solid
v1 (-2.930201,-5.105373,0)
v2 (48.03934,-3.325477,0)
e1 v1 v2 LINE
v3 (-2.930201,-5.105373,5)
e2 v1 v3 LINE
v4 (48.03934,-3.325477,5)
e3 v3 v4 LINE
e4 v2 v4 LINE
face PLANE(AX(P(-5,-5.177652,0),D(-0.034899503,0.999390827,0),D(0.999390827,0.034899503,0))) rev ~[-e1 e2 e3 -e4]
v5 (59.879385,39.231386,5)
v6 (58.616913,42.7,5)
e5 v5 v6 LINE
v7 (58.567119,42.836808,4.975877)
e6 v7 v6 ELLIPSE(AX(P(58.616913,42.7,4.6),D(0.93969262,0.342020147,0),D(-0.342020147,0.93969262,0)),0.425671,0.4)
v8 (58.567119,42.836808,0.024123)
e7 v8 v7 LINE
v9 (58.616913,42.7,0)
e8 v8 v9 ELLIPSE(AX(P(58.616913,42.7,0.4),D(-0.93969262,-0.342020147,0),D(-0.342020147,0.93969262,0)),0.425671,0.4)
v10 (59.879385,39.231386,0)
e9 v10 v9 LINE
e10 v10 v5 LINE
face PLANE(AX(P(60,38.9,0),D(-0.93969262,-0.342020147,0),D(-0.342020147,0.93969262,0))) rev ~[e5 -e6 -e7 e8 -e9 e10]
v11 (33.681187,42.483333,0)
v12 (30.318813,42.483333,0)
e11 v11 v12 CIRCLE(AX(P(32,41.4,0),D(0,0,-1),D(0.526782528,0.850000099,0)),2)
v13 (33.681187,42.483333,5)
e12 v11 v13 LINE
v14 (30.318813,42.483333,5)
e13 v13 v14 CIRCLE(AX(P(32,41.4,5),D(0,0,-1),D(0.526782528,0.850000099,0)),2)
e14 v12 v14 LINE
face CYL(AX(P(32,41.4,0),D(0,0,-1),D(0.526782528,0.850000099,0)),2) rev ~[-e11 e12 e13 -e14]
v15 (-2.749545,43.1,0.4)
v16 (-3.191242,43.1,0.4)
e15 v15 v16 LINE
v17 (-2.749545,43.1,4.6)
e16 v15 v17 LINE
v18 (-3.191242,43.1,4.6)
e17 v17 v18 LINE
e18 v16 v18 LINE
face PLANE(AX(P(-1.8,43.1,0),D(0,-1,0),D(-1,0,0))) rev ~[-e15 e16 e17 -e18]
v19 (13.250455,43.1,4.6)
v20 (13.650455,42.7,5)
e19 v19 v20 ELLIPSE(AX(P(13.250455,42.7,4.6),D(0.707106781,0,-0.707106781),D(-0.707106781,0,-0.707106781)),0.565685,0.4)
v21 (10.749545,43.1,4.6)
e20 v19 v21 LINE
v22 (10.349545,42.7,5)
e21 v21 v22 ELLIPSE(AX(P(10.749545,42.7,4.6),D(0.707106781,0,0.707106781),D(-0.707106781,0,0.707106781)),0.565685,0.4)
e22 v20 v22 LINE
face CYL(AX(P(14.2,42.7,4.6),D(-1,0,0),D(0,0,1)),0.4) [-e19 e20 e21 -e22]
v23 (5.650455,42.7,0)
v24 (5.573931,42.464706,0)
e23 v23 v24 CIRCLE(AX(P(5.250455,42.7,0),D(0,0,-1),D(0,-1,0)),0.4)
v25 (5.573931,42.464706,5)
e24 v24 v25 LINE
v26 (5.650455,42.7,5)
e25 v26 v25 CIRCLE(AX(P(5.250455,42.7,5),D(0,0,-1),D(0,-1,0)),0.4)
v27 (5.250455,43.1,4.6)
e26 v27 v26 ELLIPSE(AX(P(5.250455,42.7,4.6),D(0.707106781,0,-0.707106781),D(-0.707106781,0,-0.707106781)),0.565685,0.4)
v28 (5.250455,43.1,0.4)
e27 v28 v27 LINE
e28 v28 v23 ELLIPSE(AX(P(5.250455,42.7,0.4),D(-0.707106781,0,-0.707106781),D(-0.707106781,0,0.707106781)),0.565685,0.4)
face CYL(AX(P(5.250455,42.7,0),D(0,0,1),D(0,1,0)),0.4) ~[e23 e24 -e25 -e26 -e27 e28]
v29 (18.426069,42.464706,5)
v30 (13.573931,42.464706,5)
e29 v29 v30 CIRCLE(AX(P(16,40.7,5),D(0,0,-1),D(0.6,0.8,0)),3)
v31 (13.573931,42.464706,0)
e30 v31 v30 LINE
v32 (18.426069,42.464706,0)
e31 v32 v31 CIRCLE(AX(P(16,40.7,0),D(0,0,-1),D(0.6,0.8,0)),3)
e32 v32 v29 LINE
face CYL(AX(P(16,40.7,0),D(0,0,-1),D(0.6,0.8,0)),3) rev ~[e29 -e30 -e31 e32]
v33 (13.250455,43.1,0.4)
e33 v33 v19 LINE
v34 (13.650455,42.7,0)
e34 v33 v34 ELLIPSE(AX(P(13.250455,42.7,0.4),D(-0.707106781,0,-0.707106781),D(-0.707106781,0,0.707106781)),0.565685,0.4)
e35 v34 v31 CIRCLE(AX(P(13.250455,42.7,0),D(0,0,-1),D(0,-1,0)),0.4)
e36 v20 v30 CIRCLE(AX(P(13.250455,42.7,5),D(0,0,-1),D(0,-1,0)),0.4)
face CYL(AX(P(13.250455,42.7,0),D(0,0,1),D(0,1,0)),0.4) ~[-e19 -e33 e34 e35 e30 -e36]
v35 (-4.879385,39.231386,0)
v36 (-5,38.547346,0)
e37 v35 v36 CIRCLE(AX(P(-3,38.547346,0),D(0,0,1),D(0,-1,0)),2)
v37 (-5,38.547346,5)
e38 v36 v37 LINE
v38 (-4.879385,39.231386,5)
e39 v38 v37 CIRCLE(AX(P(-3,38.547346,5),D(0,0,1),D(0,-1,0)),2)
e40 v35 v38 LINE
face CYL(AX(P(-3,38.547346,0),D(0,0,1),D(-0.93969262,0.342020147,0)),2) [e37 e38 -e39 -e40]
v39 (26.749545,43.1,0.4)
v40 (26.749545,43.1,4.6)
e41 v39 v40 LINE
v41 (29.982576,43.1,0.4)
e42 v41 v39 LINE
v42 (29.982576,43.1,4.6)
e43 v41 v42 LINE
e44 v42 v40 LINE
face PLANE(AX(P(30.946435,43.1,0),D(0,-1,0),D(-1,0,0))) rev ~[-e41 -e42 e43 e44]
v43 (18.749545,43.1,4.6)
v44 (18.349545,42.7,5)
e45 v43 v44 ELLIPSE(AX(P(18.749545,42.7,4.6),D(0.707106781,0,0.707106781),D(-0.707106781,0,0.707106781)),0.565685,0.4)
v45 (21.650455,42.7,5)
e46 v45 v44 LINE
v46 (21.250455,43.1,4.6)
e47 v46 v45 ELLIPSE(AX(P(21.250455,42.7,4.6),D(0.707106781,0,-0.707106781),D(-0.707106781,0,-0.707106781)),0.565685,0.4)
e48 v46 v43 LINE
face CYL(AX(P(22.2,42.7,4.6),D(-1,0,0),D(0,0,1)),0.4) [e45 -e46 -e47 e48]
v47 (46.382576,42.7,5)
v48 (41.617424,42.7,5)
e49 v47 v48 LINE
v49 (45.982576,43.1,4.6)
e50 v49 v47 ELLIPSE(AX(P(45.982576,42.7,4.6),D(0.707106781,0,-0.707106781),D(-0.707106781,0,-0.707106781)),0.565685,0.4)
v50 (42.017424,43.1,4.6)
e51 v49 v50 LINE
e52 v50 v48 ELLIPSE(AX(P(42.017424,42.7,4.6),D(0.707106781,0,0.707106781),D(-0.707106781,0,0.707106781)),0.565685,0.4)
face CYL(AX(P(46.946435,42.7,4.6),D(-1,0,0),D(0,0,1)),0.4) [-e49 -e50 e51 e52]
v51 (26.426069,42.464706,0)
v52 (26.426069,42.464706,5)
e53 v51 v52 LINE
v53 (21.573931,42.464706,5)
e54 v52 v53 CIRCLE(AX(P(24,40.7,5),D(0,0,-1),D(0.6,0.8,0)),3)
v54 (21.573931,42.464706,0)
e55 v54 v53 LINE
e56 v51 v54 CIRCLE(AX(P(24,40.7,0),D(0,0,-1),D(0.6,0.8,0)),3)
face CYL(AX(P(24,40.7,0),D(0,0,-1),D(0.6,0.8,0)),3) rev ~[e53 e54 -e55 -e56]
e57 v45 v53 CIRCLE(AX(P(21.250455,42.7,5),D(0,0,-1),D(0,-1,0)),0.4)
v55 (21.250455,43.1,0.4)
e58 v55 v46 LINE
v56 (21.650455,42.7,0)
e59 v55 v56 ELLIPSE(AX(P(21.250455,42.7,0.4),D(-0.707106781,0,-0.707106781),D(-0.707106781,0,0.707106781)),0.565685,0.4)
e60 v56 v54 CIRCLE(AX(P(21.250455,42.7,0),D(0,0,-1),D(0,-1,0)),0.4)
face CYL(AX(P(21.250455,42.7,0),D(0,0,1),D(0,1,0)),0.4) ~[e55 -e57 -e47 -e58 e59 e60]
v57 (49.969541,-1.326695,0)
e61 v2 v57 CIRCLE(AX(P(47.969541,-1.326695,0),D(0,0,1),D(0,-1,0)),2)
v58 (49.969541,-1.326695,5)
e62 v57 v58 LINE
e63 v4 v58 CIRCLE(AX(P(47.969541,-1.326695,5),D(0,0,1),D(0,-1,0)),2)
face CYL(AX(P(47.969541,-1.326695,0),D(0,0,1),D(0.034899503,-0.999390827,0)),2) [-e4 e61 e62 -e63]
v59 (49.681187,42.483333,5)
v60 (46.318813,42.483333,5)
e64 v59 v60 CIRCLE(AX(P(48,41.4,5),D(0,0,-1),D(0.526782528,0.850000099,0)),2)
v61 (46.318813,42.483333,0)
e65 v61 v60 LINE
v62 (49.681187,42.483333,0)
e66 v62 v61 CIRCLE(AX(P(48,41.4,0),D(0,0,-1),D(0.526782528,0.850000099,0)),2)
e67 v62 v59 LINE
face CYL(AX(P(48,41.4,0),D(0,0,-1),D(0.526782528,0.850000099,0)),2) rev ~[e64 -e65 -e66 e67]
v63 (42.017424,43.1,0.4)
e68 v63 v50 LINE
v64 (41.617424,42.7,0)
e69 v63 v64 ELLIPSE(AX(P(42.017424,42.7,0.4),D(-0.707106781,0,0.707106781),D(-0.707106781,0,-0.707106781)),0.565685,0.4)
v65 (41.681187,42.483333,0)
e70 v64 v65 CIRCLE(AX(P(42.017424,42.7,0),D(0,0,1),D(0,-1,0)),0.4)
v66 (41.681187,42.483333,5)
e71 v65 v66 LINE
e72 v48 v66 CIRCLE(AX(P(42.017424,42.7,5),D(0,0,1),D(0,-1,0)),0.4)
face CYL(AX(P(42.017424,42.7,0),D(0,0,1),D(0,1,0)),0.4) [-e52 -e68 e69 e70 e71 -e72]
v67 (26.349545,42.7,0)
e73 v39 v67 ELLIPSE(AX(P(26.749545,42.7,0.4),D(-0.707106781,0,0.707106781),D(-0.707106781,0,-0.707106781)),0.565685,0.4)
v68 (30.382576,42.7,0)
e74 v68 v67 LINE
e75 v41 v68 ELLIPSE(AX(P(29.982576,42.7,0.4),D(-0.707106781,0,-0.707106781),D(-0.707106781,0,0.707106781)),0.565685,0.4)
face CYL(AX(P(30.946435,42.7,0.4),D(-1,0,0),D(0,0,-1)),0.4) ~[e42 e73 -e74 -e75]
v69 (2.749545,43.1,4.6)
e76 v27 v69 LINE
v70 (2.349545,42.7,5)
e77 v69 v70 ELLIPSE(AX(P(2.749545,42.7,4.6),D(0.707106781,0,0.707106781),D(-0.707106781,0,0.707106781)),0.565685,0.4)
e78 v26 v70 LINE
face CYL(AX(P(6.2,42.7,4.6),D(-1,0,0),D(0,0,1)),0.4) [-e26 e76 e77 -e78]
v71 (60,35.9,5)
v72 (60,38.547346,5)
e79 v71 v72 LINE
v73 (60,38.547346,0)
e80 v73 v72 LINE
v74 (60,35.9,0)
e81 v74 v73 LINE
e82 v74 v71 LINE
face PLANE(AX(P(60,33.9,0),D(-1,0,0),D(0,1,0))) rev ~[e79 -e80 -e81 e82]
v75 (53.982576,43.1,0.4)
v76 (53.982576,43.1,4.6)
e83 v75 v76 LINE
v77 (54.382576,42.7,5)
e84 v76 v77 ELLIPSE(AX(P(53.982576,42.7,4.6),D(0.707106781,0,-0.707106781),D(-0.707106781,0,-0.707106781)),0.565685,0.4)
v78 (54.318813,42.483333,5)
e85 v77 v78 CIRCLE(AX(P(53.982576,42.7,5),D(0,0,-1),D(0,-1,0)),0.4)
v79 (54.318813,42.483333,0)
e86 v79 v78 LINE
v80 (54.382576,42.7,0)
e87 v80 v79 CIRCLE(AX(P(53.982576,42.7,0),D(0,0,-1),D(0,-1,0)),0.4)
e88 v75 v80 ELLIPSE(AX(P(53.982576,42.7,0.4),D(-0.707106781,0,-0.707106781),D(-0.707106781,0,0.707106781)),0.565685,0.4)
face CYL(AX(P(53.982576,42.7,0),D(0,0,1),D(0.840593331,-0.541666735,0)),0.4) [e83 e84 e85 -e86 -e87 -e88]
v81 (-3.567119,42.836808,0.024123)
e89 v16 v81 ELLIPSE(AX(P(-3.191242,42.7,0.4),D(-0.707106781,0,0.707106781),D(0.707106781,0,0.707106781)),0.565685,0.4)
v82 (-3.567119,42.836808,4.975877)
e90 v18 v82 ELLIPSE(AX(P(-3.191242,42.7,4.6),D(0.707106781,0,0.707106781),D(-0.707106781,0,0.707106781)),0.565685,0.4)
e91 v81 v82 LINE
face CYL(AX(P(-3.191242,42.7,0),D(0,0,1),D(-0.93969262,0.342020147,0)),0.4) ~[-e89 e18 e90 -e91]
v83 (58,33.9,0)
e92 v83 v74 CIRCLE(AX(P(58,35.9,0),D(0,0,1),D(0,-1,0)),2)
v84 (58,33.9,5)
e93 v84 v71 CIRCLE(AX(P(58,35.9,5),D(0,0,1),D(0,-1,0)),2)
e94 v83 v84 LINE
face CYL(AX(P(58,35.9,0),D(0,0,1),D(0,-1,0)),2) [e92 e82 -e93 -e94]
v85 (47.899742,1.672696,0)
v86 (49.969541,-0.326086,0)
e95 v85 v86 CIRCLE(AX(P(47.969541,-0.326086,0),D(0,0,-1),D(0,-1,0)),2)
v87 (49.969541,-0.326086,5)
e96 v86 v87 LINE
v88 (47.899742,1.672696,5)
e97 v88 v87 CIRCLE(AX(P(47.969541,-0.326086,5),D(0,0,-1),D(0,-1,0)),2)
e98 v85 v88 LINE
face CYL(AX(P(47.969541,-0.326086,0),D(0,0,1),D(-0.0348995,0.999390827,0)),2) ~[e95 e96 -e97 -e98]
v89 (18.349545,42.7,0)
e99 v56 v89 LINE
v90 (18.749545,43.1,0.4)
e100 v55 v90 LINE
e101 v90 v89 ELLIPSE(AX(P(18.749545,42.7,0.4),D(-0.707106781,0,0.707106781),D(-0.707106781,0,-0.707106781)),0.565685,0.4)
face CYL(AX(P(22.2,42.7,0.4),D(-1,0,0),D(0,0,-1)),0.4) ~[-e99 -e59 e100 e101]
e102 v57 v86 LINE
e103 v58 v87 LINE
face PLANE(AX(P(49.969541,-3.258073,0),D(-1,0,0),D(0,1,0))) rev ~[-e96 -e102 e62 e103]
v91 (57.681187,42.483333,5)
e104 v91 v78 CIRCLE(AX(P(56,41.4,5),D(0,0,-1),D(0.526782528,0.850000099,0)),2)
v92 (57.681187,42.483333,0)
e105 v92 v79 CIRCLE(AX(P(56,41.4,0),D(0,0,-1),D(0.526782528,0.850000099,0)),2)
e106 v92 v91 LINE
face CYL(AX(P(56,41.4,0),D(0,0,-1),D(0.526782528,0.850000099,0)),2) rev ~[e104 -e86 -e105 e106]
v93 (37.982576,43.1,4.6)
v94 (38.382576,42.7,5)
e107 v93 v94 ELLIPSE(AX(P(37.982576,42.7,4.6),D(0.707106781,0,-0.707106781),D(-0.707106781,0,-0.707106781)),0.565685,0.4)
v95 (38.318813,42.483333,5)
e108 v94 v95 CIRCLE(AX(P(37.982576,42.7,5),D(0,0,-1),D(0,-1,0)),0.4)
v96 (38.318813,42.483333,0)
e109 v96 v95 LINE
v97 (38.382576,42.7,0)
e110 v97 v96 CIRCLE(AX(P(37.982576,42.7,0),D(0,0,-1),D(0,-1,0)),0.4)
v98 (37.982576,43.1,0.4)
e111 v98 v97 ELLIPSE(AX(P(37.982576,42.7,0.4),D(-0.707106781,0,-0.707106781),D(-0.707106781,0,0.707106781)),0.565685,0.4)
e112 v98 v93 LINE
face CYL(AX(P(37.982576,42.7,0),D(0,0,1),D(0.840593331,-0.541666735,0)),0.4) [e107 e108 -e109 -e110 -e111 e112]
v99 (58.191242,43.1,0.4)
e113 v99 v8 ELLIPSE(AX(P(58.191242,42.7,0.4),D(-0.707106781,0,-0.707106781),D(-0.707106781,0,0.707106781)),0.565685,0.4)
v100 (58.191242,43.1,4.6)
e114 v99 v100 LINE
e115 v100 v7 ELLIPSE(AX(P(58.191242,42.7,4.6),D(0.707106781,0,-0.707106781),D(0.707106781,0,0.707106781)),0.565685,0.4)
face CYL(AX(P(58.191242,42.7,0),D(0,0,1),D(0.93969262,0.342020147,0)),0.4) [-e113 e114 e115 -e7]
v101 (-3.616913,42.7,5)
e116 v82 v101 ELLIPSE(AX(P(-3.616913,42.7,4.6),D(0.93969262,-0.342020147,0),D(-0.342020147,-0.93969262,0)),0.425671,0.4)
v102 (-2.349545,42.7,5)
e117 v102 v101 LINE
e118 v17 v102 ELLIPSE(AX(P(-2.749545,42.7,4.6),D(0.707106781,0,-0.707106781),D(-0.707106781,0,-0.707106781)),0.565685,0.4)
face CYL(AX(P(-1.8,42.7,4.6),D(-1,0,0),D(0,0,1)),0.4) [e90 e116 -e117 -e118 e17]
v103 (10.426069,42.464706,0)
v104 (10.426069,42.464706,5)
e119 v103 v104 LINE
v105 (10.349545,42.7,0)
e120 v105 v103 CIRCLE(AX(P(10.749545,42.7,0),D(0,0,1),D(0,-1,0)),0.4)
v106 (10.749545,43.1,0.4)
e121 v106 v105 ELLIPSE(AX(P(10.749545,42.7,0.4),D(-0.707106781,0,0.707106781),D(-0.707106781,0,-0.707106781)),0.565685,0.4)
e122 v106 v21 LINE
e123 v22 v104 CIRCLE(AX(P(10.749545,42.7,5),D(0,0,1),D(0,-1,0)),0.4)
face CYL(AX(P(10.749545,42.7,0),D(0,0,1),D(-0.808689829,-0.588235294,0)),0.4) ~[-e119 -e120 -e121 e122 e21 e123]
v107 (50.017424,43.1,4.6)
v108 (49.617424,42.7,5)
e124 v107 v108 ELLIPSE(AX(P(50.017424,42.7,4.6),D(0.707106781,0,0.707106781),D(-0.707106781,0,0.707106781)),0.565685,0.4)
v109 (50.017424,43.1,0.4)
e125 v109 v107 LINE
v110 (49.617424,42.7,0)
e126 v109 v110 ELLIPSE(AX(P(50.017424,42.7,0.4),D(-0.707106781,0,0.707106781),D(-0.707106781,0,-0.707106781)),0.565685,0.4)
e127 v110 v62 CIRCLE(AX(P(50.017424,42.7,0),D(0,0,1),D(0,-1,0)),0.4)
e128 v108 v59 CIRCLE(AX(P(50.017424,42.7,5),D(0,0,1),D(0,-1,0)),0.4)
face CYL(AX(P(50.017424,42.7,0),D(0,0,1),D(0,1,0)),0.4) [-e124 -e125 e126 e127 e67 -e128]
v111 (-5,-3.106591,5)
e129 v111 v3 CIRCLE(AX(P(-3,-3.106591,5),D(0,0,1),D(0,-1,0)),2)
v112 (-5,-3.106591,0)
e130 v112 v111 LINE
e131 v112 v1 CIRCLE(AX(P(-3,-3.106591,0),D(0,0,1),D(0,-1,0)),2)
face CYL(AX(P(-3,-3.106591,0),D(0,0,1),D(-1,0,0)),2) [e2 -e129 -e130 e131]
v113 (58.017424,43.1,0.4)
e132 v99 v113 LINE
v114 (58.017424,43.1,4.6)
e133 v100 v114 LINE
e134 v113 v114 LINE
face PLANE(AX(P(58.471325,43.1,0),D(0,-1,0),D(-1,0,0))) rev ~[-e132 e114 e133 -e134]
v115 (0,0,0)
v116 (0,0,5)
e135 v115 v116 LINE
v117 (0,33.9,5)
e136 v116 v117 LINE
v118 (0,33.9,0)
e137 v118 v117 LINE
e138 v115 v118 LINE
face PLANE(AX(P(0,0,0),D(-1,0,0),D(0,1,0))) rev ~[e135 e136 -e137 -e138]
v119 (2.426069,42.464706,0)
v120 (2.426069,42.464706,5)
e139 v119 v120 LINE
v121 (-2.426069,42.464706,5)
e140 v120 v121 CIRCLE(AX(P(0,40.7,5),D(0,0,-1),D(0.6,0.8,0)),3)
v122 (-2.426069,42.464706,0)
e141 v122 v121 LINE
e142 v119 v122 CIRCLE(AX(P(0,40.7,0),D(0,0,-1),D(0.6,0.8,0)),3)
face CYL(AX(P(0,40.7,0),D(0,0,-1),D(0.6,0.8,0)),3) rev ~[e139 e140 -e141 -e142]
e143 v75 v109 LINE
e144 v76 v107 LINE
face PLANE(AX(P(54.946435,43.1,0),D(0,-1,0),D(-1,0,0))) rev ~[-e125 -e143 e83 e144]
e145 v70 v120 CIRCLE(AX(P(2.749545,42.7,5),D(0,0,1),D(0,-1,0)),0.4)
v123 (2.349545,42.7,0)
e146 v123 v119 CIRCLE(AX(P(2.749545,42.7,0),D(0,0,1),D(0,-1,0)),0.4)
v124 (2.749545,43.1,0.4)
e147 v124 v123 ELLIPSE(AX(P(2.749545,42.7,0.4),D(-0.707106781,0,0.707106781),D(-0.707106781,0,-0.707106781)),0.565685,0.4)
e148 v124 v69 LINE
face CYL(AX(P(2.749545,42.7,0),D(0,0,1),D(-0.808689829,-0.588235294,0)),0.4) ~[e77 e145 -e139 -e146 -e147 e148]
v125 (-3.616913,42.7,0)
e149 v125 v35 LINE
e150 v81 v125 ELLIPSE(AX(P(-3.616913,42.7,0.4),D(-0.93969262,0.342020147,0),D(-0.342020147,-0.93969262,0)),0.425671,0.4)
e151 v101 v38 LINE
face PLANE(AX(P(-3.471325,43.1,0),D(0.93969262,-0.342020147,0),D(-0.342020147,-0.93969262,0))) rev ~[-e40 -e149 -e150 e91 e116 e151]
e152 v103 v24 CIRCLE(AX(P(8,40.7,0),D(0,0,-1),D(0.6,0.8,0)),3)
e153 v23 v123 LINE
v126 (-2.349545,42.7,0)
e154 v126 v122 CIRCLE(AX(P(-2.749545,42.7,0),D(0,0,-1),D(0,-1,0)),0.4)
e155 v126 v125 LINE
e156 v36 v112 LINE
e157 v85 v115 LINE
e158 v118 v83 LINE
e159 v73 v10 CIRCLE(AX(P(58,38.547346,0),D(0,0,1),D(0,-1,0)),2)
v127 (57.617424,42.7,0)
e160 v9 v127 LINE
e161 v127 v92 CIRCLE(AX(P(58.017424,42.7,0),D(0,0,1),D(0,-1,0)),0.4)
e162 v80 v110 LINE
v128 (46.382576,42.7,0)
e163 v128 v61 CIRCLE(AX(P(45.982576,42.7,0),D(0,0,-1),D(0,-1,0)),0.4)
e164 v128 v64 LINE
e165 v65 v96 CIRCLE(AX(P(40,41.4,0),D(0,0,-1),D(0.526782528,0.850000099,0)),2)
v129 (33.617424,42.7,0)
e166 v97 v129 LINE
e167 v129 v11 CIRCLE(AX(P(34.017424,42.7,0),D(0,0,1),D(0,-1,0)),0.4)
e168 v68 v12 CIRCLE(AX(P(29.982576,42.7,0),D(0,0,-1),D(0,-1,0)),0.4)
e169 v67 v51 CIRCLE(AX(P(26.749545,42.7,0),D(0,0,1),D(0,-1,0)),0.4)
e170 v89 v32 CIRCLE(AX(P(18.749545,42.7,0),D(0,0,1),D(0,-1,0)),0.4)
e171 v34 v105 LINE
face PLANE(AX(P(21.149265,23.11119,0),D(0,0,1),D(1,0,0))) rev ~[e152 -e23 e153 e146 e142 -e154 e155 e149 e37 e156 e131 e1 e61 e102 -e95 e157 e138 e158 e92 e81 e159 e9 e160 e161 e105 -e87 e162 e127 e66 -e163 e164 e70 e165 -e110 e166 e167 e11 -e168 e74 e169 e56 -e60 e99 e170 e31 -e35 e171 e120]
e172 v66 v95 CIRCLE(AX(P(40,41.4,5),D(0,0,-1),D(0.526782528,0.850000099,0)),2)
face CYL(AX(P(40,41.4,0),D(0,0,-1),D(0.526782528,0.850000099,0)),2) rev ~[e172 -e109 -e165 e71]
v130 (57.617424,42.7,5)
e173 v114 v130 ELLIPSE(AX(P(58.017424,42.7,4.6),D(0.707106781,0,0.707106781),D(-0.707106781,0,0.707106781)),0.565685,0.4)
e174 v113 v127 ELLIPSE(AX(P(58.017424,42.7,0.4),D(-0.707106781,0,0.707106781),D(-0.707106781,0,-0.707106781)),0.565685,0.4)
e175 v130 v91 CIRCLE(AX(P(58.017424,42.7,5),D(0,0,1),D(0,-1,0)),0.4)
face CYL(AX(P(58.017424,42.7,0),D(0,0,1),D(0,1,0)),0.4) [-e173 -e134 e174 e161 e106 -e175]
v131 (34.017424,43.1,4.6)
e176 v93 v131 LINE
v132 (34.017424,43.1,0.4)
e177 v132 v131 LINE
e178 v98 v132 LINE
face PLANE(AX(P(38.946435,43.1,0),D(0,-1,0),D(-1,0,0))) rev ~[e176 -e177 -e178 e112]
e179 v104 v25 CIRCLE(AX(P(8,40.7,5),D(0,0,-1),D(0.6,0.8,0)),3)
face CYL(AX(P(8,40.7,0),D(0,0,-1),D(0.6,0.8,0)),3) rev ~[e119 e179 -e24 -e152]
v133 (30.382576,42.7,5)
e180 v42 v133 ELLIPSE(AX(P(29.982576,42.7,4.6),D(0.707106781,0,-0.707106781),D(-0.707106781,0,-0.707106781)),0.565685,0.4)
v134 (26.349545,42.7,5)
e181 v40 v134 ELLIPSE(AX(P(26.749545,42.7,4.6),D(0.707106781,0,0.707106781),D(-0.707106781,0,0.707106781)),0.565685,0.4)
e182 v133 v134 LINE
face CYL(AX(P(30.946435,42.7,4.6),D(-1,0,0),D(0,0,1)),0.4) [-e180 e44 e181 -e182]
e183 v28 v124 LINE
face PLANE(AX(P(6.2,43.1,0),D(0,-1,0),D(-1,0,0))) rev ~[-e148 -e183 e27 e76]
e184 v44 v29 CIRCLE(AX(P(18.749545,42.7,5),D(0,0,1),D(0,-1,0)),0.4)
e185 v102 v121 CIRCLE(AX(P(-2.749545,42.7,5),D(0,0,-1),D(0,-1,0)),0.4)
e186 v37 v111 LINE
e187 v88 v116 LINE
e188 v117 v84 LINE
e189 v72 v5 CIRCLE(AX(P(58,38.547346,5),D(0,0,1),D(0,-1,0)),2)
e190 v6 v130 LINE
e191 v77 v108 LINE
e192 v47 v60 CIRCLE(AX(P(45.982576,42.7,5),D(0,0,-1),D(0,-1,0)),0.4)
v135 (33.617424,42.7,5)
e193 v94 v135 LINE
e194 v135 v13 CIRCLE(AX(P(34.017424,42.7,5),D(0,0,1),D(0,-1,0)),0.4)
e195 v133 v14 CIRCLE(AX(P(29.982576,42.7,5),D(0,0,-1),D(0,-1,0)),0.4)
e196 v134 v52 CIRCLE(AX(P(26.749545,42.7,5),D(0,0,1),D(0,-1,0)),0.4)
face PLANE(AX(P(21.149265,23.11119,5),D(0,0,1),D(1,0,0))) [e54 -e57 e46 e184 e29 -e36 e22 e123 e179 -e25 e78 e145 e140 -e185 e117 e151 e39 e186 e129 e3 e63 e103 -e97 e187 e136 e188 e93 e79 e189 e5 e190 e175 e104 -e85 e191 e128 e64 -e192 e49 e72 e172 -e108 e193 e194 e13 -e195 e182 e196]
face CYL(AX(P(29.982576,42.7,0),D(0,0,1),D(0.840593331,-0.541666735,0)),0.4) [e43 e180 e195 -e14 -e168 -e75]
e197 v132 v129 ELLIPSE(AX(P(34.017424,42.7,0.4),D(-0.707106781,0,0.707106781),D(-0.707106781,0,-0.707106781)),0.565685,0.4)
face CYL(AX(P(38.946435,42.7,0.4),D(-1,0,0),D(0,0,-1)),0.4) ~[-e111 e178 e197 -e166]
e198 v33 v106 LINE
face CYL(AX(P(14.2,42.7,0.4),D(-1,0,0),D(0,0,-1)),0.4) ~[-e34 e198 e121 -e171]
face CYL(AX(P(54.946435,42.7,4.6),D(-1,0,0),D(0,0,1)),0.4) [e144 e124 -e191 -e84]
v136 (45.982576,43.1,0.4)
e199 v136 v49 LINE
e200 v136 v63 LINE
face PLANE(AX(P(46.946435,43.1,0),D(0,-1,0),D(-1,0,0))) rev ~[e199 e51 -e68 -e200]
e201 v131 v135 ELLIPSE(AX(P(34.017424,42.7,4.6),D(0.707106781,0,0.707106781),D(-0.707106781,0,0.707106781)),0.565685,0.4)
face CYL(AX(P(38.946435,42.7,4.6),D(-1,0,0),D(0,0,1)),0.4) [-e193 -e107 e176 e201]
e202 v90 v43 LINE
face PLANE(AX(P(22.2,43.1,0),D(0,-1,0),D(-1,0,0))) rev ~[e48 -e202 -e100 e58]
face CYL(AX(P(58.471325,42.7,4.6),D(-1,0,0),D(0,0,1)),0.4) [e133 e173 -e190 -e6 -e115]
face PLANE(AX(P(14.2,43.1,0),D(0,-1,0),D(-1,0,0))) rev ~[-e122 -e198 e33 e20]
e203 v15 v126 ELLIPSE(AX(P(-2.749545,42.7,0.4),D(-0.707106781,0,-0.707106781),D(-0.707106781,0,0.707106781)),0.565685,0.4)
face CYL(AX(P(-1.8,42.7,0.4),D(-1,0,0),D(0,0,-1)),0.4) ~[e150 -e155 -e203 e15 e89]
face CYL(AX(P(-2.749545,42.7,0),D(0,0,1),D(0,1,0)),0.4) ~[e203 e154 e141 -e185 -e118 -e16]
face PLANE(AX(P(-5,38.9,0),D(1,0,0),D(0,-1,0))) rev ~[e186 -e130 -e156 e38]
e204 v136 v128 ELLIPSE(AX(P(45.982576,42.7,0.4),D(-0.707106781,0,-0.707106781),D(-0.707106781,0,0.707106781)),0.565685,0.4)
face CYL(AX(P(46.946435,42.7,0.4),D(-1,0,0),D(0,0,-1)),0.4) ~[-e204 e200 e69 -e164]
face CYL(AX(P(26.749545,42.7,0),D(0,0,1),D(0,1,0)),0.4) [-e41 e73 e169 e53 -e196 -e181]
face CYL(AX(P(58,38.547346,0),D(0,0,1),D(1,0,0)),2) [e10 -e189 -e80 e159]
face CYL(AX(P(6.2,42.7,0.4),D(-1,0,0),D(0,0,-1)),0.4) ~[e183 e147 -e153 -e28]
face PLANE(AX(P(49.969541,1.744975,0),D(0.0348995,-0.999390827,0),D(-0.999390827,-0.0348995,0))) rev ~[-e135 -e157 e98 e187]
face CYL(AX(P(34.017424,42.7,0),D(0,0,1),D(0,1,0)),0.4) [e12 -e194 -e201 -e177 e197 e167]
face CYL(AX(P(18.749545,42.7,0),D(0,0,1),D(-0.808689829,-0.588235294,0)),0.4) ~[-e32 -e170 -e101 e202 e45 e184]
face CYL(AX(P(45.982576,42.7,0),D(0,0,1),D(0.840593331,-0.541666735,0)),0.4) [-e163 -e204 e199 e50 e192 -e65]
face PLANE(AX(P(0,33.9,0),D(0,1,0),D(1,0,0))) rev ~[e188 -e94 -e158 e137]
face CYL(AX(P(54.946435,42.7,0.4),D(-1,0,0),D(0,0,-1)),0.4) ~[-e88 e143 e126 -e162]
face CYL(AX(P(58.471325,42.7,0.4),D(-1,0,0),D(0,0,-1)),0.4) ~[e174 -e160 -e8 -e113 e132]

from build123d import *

# Parameters (mm, degrees)
F1_DEPTH = 5
F2_R     = 2
F3_R     = 0.4


with BuildPart() as f1:
    # F0 (on Top) → F1 (new body)
    with BuildSketch(Plane.XY):
        with BuildLine():
            Line((49.969541, 1.744975), (0, 0))
            Line((0, 0), (0, 33.9))
            Line((0, 33.9), (60, 33.9))
            Line((60, 33.9), (60, 38.9))
            Line((60, 38.9), (58.471325, 43.1))
            Line((58.471325, 43.1), (57.053565, 43.1))
            ThreePointArc((57.053565, 43.1), (56, 39.4), (54.946435, 43.1))
            Line((54.946435, 43.1), (49.053565, 43.1))
            ThreePointArc((49.053565, 43.1), (48, 39.4), (46.946435, 43.1))
            Line((46.946435, 43.1), (41.053565, 43.1))
            ThreePointArc((41.053565, 43.1), (40, 39.4), (38.946435, 43.1))
            Line((38.946435, 43.1), (33.053565, 43.1))
            ThreePointArc((33.053565, 43.1), (32, 39.4), (30.946435, 43.1))
            Line((30.946435, 43.1), (25.8, 43.1))
            ThreePointArc((25.8, 43.1), (24, 37.7), (22.2, 43.1))
            Line((22.2, 43.1), (17.8, 43.1))
            ThreePointArc((17.8, 43.1), (16, 37.7), (14.2, 43.1))
            Line((14.2, 43.1), (9.8, 43.1))
            ThreePointArc((9.8, 43.1), (8, 37.7), (6.2, 43.1))
            Line((6.2, 43.1), (1.8, 43.1))
            ThreePointArc((1.8, 43.1), (0, 37.7), (-1.8, 43.1))
            Line((-1.8, 43.1), (-3.471325, 43.1))
            Line((-3.471325, 43.1), (-5, 38.9))
            Line((-5, 38.9), (-5, -5.177652))
            Line((-5, -5.177652), (49.969541, -3.258073))
            Line((49.969541, -3.258073), (49.969541, 1.744975))
        make_face()
    extrude(amount=F1_DEPTH)

    # F2
    f2_edges = [f1.edges().sort_by_distance(p)[0] for p in [
        (49.969541, 1.744975, 2.5),
        (49.969541, -3.258073, 2.5),
        (-5, -5.177652, 2.5),
        (-5, 38.9, 2.5),
        (60, 33.9, 2.5),
        (60, 38.9, 2.5),
    ]]
    fillet(f2_edges, radius=F2_R)

    # F3
    f3_edges = [f1.edges().sort_by_distance(p)[0] for p in [
        (-1.8, 43.1, 2.5),
        (-3.471325, 43.1, 2.5),
        (-2.635663, 43.1, 0),
        (-2.635663, 43.1, 5),
        (6.2, 43.1, 2.5),
        (1.8, 43.1, 2.5),
        (4, 43.1, 0),
        (4, 43.1, 5),
        (14.2, 43.1, 2.5),
        (9.8, 43.1, 2.5),
        (12, 43.1, 0),
        (12, 43.1, 5),
        (22.2, 43.1, 2.5),
        (17.8, 43.1, 2.5),
        (20, 43.1, 0),
        (20, 43.1, 5),
        (30.946435, 43.1, 2.5),
        (25.8, 43.1, 2.5),
        (28.373217, 43.1, 0),
        (28.373217, 43.1, 5),
        (38.946435, 43.1, 2.5),
        (33.053565, 43.1, 2.5),
        (36, 43.1, 0),
        (36, 43.1, 5),
        (46.946435, 43.1, 2.5),
        (41.053565, 43.1, 2.5),
        (44, 43.1, 0),
        (44, 43.1, 5),
        (54.946435, 43.1, 2.5),
        (49.053565, 43.1, 2.5),
        (52, 43.1, 0),
        (52, 43.1, 5),
        (58.471325, 43.1, 2.5),
        (57.053565, 43.1, 2.5),
        (57.762445, 43.1, 0),
        (57.762445, 43.1, 5),
    ]]
    fillet(f3_edges, radius=F3_R)


solid = f1.part
